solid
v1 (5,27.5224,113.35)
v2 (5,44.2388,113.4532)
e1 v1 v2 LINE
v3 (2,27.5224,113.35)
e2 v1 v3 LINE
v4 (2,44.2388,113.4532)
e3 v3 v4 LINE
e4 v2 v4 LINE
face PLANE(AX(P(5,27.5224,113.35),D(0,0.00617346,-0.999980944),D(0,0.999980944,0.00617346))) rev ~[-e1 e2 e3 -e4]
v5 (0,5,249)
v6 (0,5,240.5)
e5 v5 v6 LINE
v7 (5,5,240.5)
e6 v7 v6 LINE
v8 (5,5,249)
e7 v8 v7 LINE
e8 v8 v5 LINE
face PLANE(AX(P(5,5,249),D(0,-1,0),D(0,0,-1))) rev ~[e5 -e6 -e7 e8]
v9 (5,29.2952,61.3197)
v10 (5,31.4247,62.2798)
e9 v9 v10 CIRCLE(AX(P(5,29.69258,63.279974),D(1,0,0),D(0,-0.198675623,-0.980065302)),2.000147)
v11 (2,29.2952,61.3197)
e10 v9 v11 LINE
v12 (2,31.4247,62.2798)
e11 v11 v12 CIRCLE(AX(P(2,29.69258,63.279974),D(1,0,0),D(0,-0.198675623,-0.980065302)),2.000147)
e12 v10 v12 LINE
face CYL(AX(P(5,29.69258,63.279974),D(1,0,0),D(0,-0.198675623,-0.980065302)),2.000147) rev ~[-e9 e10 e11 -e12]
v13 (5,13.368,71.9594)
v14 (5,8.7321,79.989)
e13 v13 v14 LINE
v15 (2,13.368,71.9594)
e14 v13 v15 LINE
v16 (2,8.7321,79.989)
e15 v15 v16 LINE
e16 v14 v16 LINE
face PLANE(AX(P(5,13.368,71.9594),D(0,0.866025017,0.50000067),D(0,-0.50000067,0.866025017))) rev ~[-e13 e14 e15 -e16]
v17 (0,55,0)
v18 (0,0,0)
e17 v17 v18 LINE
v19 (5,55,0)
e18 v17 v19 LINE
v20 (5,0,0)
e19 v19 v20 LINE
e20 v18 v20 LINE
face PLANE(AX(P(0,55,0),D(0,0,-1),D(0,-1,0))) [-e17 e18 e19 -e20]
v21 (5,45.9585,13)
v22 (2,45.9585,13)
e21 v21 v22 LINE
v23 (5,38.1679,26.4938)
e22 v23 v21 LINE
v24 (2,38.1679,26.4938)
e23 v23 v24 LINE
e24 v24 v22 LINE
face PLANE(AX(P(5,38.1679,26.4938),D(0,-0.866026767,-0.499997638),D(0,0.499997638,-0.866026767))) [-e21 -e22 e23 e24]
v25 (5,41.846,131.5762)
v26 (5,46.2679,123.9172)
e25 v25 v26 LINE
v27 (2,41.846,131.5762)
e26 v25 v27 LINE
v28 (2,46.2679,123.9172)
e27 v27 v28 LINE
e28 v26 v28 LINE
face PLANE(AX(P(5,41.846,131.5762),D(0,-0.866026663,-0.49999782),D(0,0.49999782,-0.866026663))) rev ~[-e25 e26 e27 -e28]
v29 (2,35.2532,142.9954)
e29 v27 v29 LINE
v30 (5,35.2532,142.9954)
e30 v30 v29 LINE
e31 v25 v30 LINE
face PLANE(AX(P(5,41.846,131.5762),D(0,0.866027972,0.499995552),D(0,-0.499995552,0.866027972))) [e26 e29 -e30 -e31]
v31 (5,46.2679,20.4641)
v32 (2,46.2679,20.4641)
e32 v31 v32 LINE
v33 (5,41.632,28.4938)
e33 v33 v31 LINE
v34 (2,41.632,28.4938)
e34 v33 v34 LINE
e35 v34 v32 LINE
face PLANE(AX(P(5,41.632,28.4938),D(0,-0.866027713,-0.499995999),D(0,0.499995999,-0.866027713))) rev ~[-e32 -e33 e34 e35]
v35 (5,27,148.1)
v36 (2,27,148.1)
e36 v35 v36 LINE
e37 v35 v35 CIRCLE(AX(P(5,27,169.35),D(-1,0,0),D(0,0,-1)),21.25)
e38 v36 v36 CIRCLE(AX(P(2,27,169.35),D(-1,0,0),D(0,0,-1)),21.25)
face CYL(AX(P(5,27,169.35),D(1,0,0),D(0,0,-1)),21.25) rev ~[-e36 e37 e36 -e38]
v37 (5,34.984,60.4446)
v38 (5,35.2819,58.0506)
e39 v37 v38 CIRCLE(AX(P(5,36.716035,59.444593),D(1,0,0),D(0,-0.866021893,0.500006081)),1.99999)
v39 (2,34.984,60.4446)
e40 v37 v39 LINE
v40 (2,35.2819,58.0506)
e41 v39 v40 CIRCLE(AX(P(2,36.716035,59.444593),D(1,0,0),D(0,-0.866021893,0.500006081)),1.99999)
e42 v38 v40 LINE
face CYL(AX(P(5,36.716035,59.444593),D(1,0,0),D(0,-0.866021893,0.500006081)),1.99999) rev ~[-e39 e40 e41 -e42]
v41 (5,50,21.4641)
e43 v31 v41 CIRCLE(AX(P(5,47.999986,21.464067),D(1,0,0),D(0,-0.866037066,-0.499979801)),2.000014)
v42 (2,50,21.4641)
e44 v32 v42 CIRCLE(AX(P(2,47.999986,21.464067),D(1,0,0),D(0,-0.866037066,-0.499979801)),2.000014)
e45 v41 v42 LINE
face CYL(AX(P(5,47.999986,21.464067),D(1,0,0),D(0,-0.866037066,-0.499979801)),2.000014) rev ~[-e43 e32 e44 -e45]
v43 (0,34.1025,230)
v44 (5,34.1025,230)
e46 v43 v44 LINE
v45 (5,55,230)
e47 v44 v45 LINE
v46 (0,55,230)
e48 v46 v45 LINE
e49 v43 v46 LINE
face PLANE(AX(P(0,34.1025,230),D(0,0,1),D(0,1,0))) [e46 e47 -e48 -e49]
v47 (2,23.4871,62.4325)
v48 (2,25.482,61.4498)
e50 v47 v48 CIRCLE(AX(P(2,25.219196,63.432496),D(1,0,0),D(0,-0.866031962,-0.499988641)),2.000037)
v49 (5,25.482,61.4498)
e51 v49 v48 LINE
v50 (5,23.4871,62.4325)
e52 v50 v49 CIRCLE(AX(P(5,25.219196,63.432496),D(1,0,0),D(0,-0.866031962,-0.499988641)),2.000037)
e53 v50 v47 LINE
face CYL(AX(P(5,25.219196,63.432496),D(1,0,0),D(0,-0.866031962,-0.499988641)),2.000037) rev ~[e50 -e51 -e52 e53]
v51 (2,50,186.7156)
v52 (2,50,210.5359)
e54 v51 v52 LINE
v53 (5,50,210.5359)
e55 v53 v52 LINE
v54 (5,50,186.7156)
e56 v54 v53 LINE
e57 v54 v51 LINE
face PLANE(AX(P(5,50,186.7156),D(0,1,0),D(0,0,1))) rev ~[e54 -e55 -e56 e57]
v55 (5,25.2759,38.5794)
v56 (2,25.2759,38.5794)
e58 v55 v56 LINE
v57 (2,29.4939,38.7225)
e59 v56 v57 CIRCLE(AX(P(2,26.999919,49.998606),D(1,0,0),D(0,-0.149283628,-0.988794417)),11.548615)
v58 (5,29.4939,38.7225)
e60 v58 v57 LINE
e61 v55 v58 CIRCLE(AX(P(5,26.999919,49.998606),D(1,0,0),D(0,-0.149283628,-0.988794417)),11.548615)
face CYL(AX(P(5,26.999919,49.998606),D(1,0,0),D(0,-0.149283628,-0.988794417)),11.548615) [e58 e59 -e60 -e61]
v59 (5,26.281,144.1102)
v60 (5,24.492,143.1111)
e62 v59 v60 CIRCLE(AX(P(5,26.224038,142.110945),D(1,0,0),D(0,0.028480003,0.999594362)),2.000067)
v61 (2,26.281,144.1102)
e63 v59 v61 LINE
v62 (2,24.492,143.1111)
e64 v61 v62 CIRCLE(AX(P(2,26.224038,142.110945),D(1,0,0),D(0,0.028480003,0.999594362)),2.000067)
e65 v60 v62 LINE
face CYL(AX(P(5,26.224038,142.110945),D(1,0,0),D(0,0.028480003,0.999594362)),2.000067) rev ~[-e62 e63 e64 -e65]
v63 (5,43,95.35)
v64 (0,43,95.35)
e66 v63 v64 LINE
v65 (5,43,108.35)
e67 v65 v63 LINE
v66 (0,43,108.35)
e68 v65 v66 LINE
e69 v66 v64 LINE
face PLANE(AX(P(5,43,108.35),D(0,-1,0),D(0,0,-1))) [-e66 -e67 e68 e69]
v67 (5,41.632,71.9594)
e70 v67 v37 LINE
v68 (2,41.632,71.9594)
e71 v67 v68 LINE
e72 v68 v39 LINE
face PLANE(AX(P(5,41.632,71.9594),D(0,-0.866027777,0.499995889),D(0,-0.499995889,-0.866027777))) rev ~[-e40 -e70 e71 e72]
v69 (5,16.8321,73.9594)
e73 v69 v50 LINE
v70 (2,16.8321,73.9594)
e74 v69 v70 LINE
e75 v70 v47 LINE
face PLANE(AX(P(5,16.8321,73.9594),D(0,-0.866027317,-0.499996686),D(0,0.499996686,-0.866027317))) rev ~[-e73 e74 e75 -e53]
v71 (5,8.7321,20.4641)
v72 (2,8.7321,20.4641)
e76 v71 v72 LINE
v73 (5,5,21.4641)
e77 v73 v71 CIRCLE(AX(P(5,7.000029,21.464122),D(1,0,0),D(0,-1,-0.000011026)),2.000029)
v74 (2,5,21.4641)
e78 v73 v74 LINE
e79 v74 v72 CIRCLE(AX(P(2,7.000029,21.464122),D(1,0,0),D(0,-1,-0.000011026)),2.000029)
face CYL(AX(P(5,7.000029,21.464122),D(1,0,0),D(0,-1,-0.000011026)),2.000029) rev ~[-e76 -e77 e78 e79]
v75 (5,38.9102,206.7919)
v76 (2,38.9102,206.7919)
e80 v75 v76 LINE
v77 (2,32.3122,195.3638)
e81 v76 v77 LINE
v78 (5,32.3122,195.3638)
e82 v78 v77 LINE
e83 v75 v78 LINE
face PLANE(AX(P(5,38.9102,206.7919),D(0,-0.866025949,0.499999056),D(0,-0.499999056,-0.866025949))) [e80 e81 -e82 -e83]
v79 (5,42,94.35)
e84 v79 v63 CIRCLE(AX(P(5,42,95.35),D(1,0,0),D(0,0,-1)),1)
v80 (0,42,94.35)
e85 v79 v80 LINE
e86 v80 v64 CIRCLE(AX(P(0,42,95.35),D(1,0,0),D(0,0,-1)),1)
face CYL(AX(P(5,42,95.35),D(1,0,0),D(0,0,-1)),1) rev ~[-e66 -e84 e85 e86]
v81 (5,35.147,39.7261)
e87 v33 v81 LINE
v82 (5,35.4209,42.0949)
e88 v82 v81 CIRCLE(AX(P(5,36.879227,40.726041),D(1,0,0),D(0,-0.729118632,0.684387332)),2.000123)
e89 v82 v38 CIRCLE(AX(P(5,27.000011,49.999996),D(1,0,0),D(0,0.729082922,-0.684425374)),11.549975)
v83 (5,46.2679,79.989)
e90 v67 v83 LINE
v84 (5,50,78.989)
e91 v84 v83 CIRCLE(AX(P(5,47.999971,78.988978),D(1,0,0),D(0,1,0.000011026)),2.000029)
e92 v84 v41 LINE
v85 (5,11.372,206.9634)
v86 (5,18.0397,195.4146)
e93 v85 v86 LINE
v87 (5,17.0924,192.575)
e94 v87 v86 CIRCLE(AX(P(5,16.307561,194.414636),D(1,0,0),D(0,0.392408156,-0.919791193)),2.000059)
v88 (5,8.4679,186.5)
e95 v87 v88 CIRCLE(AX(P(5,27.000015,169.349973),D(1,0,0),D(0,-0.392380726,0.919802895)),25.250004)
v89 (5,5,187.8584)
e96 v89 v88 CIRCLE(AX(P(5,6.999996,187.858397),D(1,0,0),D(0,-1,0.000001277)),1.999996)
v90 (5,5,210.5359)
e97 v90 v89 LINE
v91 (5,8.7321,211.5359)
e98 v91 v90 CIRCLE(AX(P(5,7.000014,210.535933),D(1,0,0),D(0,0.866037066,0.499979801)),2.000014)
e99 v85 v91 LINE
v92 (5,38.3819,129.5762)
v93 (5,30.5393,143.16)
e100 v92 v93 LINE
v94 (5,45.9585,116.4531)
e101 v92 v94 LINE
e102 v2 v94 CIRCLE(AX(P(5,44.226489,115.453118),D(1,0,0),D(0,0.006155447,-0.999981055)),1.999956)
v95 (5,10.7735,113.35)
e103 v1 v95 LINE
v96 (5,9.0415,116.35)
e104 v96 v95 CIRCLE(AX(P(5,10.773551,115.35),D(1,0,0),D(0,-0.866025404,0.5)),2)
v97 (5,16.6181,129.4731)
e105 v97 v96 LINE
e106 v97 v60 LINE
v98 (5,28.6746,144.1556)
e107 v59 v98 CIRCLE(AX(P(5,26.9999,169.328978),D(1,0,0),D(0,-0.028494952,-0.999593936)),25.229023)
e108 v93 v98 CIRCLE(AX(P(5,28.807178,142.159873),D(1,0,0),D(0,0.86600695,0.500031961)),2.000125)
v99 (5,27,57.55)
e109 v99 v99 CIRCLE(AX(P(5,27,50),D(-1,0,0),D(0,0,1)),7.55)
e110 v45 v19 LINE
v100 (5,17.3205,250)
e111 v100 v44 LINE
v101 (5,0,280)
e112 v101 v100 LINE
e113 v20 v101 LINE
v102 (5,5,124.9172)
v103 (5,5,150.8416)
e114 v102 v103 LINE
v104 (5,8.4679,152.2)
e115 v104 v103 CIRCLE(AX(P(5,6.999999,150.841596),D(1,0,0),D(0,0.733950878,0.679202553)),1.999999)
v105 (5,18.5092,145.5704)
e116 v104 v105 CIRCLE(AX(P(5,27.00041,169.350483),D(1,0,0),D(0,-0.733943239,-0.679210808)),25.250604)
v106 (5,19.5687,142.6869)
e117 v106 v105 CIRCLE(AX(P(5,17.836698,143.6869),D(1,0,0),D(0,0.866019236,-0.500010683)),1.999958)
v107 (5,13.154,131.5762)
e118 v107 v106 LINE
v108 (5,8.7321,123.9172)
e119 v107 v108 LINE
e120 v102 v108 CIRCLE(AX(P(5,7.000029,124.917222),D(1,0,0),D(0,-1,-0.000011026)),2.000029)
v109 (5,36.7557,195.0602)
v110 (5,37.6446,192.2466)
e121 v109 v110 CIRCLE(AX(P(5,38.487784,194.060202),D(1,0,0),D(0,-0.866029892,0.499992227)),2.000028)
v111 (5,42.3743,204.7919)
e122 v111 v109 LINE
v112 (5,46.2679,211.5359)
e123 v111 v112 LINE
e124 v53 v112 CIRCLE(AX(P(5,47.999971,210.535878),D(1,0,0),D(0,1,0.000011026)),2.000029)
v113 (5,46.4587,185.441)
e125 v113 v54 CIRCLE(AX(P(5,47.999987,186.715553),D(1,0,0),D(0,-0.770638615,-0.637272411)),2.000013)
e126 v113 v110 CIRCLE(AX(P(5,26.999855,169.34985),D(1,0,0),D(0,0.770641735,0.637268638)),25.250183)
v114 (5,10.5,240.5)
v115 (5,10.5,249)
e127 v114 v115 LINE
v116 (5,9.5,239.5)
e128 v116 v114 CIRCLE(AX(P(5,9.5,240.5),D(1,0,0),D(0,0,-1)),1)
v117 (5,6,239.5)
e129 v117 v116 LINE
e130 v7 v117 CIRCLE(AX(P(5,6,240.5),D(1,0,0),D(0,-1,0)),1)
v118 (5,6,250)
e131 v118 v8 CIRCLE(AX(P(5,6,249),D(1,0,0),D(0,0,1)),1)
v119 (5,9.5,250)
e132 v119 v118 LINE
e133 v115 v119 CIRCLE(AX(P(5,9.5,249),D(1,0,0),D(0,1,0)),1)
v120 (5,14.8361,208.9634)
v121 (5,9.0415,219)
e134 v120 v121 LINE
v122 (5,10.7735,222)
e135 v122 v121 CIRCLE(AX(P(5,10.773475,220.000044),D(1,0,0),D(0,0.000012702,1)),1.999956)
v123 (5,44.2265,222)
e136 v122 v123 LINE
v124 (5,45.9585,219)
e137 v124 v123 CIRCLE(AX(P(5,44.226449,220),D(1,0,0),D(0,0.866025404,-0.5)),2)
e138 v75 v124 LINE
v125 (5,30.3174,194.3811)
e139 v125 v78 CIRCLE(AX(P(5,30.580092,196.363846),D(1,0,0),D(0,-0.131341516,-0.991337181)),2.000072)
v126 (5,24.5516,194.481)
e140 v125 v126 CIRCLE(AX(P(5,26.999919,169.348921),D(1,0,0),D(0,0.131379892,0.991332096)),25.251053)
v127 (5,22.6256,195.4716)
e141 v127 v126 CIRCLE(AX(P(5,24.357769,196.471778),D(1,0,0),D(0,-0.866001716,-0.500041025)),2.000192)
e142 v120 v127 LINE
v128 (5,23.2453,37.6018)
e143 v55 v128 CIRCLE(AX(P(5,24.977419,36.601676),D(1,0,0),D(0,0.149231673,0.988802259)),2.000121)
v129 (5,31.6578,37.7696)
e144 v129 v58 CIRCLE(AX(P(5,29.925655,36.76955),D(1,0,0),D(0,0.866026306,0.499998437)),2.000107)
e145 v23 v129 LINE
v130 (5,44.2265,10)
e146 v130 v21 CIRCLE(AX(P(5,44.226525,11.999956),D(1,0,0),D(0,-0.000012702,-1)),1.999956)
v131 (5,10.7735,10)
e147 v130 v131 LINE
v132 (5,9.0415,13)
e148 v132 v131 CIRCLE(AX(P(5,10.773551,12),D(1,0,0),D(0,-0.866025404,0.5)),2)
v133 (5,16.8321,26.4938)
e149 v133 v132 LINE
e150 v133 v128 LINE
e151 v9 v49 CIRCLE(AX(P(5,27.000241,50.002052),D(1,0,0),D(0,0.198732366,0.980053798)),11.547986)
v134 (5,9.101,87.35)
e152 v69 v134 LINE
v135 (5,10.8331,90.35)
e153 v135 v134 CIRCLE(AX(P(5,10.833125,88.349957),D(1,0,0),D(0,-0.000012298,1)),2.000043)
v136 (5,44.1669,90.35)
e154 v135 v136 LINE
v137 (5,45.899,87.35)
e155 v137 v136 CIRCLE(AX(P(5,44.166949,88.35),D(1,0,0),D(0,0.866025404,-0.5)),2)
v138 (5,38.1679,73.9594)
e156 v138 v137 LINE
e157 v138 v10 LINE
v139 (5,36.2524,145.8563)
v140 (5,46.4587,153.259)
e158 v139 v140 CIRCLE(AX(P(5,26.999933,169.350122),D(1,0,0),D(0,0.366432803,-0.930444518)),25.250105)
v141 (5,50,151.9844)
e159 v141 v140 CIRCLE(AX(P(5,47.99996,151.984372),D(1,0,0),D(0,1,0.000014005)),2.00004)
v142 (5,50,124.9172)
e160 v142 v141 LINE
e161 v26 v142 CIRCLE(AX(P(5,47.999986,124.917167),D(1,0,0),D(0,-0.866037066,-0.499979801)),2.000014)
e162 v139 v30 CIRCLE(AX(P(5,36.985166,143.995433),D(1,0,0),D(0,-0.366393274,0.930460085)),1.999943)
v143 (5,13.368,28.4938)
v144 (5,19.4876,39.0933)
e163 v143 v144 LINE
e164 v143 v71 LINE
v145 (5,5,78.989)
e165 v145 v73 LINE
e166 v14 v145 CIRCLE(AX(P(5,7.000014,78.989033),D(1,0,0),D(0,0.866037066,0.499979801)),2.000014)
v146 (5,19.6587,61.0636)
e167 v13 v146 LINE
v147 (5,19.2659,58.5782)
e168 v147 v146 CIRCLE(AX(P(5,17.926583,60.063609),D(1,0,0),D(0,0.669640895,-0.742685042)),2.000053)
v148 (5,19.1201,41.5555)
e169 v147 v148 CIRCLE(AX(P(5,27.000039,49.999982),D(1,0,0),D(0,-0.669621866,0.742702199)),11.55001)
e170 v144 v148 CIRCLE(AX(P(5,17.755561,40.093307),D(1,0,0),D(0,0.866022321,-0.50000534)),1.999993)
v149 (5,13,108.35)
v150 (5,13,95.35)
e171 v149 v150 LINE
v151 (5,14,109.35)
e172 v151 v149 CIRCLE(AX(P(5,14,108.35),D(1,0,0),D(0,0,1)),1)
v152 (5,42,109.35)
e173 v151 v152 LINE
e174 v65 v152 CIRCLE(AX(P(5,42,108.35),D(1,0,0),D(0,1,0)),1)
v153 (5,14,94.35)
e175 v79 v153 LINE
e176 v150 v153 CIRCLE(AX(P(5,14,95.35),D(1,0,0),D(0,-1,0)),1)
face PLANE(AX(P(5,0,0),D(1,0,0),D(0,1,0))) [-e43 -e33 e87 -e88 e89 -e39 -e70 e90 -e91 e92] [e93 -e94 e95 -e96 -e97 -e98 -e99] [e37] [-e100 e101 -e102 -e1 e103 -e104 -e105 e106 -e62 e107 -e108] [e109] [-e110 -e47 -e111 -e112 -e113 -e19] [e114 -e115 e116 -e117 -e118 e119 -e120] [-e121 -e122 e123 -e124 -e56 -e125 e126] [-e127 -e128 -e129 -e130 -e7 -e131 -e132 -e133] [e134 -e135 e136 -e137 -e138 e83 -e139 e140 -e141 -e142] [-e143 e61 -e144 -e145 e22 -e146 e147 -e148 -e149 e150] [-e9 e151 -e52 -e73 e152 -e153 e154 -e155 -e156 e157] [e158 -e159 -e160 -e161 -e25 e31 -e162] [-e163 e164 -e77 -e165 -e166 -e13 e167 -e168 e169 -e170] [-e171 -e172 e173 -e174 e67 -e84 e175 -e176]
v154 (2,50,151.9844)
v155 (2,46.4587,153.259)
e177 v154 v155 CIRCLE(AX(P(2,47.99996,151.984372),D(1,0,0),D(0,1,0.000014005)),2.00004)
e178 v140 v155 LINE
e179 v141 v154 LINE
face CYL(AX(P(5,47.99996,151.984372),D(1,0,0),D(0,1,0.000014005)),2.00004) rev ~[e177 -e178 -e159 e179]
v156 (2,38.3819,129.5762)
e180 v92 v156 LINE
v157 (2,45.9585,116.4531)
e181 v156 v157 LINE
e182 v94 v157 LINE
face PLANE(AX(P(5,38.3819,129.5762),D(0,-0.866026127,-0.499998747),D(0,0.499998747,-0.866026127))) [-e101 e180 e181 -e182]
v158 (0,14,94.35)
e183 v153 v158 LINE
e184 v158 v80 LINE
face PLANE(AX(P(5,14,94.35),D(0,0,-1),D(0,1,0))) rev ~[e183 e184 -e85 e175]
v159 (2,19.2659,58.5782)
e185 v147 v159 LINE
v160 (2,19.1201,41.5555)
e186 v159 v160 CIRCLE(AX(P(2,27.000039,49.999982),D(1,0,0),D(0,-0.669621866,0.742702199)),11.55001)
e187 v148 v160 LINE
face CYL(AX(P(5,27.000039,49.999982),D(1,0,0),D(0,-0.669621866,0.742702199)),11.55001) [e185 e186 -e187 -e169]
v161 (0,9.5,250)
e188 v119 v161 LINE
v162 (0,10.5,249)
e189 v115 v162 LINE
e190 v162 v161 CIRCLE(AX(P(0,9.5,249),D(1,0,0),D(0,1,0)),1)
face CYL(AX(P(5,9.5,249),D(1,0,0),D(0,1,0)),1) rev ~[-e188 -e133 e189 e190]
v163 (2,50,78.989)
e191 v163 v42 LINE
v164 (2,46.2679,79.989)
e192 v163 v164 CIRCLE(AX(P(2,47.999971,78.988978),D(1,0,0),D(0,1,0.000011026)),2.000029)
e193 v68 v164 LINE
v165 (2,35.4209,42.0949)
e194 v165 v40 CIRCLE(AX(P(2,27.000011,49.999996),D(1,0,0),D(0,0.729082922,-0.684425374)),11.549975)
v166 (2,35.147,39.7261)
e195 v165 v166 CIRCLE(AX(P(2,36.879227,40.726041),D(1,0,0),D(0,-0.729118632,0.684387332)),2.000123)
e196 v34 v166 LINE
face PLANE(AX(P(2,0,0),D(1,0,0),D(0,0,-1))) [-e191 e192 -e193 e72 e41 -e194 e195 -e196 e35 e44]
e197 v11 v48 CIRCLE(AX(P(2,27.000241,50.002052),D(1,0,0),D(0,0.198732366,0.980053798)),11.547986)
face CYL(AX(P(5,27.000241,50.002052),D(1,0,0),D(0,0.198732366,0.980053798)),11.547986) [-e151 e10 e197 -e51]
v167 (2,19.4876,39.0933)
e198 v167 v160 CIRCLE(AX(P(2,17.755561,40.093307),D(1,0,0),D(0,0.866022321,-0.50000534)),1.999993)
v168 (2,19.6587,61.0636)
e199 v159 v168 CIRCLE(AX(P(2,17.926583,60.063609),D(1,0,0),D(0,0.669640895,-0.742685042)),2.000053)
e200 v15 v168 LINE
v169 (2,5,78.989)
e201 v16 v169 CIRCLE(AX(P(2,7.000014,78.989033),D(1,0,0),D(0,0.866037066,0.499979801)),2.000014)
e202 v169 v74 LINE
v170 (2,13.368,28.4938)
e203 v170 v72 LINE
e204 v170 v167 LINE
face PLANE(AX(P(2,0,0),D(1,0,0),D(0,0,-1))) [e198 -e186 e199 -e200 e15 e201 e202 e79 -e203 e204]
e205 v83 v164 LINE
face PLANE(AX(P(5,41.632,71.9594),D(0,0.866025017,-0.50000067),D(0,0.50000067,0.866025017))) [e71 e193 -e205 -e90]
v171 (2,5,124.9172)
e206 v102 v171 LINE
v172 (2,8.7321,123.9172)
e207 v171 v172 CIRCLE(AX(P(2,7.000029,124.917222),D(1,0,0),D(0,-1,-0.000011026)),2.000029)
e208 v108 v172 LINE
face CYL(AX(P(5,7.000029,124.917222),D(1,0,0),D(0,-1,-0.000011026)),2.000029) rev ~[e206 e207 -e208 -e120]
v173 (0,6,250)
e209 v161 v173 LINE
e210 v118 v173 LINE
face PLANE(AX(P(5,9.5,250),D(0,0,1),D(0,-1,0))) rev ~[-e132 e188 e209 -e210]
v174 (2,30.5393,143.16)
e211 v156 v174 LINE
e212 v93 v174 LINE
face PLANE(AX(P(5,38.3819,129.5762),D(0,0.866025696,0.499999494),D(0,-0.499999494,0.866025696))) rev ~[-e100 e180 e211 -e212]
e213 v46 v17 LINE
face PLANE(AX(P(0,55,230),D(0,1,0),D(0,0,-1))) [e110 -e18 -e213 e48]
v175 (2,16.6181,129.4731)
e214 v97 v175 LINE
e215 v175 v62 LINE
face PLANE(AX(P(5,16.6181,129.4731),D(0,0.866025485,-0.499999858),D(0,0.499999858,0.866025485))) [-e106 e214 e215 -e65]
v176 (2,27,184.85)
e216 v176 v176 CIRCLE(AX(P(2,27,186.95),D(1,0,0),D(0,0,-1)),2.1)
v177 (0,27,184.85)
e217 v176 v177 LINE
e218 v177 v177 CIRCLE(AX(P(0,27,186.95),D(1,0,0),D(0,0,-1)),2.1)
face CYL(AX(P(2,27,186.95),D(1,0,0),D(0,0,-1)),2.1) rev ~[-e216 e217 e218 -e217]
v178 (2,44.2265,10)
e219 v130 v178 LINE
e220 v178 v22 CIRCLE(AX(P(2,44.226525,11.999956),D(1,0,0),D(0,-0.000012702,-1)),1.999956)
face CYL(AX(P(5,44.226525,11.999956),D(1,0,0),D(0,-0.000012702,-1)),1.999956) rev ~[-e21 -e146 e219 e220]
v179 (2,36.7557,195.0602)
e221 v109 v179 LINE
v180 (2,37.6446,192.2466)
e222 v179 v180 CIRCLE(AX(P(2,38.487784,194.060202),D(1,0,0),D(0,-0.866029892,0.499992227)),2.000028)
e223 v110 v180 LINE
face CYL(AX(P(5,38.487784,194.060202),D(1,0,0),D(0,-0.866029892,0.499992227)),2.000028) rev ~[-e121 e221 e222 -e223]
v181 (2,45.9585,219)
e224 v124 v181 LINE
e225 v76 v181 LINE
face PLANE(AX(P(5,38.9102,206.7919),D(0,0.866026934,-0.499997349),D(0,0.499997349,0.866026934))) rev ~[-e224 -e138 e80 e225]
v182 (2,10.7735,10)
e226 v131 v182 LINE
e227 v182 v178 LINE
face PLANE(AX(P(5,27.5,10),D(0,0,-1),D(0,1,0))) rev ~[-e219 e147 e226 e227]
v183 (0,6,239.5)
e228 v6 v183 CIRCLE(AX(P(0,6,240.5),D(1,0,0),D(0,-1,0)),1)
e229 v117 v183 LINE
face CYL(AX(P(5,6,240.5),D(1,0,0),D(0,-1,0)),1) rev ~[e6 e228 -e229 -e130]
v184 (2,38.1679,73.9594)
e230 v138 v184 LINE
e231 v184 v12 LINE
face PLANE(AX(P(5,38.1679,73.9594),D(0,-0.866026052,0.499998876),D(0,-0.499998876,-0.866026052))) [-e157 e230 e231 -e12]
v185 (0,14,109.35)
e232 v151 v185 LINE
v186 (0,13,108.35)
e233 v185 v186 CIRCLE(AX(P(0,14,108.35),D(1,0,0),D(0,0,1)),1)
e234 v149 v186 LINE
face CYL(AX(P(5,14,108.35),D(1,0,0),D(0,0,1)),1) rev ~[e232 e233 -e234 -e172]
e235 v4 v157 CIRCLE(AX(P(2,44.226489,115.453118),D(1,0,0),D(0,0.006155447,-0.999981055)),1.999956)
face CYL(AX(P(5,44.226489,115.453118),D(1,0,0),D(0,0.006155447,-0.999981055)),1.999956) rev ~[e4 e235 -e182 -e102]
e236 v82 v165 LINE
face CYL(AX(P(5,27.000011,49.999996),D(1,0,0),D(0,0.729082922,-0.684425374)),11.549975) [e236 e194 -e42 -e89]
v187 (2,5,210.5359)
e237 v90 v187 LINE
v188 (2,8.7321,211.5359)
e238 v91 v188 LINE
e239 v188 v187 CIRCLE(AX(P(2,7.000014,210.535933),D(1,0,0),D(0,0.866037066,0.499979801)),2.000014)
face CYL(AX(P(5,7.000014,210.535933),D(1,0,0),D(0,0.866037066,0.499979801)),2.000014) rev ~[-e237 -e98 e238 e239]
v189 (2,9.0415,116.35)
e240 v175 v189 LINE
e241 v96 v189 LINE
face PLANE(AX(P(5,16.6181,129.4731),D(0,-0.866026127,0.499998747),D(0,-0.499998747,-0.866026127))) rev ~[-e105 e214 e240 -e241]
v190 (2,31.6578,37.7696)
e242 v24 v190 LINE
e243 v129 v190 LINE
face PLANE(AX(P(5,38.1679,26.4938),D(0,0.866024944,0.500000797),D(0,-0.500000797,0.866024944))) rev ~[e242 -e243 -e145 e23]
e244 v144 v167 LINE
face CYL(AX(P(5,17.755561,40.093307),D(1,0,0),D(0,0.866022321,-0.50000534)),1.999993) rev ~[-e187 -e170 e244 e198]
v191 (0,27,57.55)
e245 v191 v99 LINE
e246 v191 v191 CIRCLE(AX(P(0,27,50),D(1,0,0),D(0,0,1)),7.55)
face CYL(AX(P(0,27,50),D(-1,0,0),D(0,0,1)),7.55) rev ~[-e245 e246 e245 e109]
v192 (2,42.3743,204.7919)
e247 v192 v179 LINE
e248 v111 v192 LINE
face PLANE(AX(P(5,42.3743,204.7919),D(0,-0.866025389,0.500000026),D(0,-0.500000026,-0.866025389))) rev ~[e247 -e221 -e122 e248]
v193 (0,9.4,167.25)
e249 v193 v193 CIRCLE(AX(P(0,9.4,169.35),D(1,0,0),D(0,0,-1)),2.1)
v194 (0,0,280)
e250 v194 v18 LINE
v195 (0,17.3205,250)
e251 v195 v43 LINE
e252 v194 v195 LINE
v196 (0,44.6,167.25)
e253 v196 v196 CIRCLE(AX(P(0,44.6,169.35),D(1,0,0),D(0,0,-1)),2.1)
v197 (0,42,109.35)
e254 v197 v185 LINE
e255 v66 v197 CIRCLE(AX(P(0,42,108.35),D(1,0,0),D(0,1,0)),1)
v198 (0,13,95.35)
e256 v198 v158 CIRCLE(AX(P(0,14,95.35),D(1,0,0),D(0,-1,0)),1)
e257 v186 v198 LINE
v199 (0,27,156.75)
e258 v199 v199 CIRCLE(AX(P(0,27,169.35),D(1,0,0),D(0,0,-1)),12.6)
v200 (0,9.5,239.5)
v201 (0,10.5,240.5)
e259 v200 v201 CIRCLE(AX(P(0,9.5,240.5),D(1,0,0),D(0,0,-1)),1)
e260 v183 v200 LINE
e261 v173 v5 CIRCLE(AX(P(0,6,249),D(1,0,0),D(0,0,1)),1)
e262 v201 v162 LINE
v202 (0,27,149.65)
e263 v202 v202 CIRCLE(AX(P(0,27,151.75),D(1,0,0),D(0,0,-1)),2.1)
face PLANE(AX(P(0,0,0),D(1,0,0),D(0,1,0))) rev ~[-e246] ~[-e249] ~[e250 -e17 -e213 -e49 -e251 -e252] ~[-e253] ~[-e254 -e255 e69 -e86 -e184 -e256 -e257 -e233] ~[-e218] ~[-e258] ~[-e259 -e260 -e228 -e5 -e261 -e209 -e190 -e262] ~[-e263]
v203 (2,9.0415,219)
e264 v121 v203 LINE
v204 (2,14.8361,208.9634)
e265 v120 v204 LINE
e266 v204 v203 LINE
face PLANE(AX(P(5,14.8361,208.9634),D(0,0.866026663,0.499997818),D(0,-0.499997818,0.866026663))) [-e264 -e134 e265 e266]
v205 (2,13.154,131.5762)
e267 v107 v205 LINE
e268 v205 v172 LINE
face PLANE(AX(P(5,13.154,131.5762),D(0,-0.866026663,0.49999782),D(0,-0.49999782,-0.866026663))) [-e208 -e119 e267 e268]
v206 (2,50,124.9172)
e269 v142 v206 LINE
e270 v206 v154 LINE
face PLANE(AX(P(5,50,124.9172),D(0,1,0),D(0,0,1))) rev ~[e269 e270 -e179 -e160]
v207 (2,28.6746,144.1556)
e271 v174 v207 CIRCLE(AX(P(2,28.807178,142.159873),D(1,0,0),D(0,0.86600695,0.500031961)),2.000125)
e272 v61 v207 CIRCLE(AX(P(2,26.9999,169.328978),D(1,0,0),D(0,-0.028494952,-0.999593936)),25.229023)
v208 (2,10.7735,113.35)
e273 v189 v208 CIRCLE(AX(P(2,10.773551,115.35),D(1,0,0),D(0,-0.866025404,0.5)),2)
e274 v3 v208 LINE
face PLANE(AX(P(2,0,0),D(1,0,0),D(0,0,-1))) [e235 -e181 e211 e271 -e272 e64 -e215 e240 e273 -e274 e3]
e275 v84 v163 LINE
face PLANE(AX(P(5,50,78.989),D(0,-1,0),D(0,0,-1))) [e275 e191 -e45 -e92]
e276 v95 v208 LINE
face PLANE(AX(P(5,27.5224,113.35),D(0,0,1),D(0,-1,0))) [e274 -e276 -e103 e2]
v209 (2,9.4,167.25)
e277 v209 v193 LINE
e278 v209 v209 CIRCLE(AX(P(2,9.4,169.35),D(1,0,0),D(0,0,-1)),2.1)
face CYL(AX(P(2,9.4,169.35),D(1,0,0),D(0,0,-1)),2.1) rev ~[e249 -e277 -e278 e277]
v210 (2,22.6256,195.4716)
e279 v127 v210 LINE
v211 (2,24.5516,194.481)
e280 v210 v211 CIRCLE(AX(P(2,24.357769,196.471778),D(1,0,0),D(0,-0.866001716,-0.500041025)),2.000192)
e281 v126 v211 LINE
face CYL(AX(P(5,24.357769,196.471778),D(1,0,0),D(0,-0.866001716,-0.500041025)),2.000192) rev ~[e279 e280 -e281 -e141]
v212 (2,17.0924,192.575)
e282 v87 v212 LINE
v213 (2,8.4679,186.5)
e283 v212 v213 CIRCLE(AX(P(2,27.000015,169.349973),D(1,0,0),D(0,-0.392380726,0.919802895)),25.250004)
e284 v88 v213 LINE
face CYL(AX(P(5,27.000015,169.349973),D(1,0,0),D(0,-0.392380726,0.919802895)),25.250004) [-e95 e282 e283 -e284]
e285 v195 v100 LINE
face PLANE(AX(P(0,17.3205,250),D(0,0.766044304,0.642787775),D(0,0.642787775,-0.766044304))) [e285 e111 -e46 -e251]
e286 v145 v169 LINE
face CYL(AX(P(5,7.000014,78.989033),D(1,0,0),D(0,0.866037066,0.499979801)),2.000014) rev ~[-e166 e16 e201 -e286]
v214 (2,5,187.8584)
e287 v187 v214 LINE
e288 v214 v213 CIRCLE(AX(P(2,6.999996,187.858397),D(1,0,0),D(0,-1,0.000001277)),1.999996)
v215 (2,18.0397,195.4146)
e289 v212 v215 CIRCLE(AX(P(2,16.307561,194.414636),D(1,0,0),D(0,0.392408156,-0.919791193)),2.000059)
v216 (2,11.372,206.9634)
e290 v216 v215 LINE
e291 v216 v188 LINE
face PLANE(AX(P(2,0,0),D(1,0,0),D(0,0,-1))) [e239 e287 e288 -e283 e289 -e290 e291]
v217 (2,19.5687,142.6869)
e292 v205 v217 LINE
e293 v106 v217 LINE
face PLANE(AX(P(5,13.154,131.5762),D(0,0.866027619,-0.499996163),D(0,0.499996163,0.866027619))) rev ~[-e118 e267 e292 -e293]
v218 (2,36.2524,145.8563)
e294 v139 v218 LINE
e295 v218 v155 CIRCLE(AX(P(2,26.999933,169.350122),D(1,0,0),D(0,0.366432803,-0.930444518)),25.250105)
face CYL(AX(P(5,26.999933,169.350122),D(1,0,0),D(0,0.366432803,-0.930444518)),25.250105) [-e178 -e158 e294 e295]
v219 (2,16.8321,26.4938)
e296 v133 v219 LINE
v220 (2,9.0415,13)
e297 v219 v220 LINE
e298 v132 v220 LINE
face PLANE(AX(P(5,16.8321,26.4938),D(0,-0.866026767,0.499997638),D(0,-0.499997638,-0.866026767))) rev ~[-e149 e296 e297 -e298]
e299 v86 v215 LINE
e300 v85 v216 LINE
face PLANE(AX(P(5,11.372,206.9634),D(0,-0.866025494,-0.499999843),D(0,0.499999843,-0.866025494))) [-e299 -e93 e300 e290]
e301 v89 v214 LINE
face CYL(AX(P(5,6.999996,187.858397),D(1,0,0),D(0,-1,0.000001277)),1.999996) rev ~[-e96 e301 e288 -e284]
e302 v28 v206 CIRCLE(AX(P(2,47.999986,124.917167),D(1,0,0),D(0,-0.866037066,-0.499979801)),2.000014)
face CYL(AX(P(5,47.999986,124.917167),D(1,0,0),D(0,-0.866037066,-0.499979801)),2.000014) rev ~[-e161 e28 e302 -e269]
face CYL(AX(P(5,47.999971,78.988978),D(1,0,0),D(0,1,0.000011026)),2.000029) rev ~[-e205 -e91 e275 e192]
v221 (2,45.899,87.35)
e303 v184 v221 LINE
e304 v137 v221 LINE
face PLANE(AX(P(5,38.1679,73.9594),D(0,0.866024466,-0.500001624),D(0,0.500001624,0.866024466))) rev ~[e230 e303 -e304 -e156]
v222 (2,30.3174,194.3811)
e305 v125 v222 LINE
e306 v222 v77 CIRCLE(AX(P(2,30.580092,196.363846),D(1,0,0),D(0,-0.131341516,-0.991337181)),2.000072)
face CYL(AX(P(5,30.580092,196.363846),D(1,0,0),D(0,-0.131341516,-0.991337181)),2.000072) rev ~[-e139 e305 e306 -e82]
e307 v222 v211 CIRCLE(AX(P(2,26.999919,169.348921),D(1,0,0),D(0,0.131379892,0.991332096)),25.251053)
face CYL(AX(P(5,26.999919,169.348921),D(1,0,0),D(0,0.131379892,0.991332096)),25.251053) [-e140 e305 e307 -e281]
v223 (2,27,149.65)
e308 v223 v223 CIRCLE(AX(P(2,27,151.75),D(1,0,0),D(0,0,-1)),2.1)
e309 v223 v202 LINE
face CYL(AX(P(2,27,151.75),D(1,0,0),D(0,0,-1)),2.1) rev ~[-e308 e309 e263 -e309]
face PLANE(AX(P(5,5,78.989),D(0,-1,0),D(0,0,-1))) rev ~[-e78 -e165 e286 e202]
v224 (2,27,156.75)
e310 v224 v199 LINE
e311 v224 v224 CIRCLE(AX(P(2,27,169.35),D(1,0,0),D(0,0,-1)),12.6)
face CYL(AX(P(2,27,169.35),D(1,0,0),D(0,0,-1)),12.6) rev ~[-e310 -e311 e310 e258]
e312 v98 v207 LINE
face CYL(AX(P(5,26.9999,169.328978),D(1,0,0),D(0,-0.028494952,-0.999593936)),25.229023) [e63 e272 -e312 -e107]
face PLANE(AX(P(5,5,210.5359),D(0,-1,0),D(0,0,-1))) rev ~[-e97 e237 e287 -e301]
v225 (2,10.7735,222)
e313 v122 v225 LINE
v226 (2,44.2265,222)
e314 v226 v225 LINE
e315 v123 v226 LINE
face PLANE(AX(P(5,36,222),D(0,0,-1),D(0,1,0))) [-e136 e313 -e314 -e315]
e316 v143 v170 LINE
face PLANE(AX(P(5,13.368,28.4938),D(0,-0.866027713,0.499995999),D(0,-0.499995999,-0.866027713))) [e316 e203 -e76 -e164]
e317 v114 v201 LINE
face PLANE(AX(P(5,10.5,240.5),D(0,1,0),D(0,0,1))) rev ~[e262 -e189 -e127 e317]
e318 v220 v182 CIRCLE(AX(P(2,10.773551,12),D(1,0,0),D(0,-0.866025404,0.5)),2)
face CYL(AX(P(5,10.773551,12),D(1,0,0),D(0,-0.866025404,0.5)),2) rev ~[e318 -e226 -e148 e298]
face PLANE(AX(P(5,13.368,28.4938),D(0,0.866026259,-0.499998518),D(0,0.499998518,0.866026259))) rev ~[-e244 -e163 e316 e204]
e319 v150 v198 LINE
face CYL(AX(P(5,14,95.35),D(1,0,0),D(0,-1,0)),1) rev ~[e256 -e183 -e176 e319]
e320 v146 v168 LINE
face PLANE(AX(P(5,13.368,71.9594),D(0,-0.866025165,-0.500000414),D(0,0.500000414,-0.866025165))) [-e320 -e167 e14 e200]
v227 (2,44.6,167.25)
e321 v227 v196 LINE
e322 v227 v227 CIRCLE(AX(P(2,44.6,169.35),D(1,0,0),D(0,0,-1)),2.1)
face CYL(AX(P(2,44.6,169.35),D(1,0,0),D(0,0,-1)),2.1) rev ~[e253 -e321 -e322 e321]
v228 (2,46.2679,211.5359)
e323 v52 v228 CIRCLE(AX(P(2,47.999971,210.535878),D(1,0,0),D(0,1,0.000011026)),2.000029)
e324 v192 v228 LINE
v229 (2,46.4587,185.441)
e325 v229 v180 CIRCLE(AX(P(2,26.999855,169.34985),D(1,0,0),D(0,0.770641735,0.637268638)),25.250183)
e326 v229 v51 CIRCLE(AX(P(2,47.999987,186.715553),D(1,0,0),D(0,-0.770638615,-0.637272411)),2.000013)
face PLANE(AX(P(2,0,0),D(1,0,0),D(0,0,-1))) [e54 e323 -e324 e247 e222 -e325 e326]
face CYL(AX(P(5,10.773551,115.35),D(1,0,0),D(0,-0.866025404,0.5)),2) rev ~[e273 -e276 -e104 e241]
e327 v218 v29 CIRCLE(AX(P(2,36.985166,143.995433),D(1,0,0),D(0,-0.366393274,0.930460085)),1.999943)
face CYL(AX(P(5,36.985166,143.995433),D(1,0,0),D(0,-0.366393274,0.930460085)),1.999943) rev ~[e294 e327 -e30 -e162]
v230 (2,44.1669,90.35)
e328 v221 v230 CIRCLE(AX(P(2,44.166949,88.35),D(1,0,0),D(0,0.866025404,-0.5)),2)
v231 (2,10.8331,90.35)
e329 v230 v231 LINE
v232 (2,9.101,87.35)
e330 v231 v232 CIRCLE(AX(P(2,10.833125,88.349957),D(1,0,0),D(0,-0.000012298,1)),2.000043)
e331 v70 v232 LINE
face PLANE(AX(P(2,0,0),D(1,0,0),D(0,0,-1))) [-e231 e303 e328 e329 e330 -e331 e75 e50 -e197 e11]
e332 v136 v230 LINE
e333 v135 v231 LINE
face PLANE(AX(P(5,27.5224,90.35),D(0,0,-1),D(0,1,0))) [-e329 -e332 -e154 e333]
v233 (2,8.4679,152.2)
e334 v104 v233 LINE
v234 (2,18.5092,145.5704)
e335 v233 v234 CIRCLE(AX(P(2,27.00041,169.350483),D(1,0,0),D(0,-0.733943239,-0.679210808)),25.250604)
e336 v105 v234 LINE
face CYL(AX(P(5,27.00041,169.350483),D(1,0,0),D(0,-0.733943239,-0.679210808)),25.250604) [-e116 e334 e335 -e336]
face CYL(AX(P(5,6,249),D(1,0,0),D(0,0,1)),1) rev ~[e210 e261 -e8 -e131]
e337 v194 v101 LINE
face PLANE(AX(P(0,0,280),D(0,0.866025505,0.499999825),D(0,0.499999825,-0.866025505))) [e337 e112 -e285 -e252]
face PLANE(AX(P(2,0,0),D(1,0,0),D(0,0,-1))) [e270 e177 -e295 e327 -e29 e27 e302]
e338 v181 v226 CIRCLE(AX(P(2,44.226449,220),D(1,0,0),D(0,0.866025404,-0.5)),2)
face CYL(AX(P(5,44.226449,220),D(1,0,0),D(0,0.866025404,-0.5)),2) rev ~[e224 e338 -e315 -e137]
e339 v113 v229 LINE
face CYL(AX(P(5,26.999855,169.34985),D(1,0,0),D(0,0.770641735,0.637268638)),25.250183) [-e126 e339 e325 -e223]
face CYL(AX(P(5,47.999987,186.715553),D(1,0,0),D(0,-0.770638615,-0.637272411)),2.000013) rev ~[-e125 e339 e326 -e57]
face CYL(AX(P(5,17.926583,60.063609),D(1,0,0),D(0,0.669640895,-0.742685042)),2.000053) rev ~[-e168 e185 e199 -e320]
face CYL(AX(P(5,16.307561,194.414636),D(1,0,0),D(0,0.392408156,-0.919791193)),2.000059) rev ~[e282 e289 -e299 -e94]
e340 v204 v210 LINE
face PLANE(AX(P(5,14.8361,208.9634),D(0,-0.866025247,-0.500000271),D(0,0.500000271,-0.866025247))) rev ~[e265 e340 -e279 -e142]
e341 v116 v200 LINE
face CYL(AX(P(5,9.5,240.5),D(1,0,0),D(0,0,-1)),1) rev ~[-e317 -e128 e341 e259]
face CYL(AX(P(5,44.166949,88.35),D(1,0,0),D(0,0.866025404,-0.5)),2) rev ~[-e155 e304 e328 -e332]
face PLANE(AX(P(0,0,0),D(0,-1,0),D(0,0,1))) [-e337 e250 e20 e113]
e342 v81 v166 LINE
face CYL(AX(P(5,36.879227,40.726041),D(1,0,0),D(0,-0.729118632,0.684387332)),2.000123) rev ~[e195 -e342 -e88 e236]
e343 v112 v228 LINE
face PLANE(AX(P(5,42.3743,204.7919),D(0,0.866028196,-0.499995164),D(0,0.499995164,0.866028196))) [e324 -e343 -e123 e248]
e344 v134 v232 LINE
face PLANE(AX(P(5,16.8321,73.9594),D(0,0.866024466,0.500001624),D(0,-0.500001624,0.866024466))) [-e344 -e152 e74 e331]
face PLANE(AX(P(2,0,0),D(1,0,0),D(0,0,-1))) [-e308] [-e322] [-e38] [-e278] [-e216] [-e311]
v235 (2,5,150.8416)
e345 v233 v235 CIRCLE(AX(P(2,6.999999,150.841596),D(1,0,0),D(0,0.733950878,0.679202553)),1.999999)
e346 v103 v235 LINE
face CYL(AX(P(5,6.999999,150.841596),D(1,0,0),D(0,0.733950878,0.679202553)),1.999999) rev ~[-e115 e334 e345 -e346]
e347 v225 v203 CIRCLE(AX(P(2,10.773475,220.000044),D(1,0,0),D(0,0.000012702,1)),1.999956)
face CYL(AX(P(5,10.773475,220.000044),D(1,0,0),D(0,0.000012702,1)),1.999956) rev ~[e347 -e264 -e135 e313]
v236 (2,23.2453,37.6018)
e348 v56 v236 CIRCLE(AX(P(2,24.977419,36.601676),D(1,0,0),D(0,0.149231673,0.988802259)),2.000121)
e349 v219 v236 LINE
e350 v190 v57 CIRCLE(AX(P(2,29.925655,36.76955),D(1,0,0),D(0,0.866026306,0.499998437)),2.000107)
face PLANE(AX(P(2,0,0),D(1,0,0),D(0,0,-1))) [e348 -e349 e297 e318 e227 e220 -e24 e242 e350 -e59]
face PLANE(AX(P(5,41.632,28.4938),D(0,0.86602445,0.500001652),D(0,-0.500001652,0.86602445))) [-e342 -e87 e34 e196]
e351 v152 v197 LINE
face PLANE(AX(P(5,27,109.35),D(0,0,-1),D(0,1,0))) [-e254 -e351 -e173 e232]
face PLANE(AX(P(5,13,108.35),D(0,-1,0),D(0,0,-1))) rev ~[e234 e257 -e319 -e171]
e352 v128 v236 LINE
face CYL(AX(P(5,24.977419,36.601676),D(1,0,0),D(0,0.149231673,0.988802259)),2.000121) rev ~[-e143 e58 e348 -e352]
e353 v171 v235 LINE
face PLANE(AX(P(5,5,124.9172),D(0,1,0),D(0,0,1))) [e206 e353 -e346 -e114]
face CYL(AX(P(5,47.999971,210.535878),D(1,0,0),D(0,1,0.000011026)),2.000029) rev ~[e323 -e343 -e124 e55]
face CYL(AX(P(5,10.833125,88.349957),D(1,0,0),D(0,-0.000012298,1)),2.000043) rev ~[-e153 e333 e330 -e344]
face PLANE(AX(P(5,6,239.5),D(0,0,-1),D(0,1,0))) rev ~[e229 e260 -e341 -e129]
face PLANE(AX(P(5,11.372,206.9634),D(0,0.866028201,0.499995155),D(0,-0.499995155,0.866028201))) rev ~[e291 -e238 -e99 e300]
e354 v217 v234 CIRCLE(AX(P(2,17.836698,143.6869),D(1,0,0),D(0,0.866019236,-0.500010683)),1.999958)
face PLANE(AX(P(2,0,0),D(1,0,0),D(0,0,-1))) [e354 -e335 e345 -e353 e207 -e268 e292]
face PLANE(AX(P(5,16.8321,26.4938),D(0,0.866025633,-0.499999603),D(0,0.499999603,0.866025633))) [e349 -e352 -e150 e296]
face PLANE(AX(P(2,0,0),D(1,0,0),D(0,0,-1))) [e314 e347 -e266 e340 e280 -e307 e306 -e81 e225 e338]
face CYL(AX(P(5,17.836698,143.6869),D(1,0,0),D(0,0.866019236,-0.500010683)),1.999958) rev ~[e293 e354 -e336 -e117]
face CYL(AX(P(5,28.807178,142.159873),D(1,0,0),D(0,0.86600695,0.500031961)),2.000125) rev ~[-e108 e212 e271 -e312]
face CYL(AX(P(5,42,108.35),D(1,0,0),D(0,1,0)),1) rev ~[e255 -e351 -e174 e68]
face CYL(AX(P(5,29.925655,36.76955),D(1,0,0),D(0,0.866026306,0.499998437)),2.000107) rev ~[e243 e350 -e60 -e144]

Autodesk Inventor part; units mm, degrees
ref_plane "YZ Plane" through (0, 0, 0) normal (1, 0, 0) x (0, 1, 0)
ref_plane "XZ Plane" through (0, 0, 0) normal (0, 1, 0) x (-1, 0, 0)
ref_plane "XY Plane" through (0, 0, 0) normal (0, 0, 1) x (1, 0, 0)
sketch "스케치1" plane through (0, 0, 0) normal (1, 0, 0) x (0, 1, 0)
  line L0 (0, 0) -> (0, 280)
  line L1 (0, 280) -> (55, 280)
  line L2 (55, 280) -> (55, 0)
  line L3 (55, 0) -> (0, 0)
  line L4 (0, 280) -> (0, 250)
  line L5 (0, 250) -> (0, 230)
  line L6 (0, 230) -> (0, 220)
  line L7 (0, 230) -> (55, 230)
  line L8 (0, 250) -> (55, 250)
  line L9 (0, 280) -> (17.3205, 250)
  line L10 (0, 280) -> (34.641, 280) construction
  line L11 (17.3205, 250) -> (34.1025, 230)
  line L12 (17.3205, 250) -> (43.4287, 250) construction
  line L13 (34.1025, 230) -> (47.1107, 230) construction
  point P0 (55, 220)
  dimension "d0" = 280
  dimension "d1" = 55
  dimension "d2" = 30
  dimension "d3" = 20
  dimension "d5" = 60
  dimension "d6" = 50
extrude "돌출1" add sketch "스케치1" along normal blind 5 contours L0 L7 L2 L3 | L0 L8 L11 L7 | L0 L9 L8
sketch "스케치4" plane through (5, 0, 0) normal (1, 0, 0) x (0, 0, -1)
  line L0 (-250, 17.3205) -> (-280, 0) projected
  line L1 (-280, 0) -> (-170, 0)
  line L2 (-280, 0) -> (0, 0) projected
  circle A0 centre (-169.35, 27) radius 21.25
  line L3 (0, 0) -> (0, 55) projected
  line L4 (0, 0) -> (-169.35, 0)
  line L5 (-169.35, 0) -> (-169.35, 27)
  line L6 (-169.35, 27) -> (-169.35, 0)
  dimension "d14" = 110
  dimension "d16" = 42.5
  dimension "d43" = 169.35
  dimension "d44" = 0
extrude "돌출2" cut sketch "스케치4" against normal blind 3
sketch "스케치5" plane through (2, 27, 169.35) normal (1, 0, 0) x (0, 0, -1)
  circle A0 centre (0, 0) radius 12.6
  point P0 (169.35, -27)
  dimension "d19" = 25.2
extrude "돌출3" cut sketch "스케치5" against normal blind 3
sketch "스케치6" plane through (2, 27, 169.35) normal (1, 0, 0) x (0, 0, -1)
  circle A0 centre (0, 0) radius 21.25 projected
  circle A1 centre (0, 17.6) radius 2.1
  circle A2 centre (17.6, 0) radius 2.1
  circle A3 centre (0, -17.6) radius 2.1
  circle A4 centre (-17.6, 0) radius 2.1
  point P0 (169.35, -27)
  dimension "d31" = 4.2
  dimension "d32" = 4.2
  dimension "d33" = 4.2
  dimension "d34" = 4.2
extrude "돌출4" cut sketch "스케치6" against normal blind 3 contours A1 | A2 | A3 | A4
sketch "스케치7" plane through (0, 0, 0) normal (-1, 0, 0) x (0, 0, 1)
  line L0 (280, 0) -> (0, 0) projected
  line L1 (0, 0) -> (50, 0)
  line L2 (50, 0) -> (50, 27)
  line L3 (50, 27) -> (169.35, 27)
  circle A0 centre (50, 27) radius 7.55
  dimension "d37" = 50
  dimension "d38" = 27
  dimension "d39" = 119.35
  dimension "d40" = 15.1
extrude "돌출5" cut sketch "스케치7" against normal blind 5
sketch "스케치8" plane through (5, 0, 0) normal (1, 0, 0) x (0, 0, -1)
  circle A0 centre (-50, 27) radius 7.55 projected
  circle A1 centre (-169.35, 27) radius 21.25 projected
  line L0 (-230, 34.1025) -> (-250, 17.3205) projected
  line L1 (-250, 17.3205) -> (-280, 0) projected
  line L2 (-280, 0) -> (0, 0) projected
  line L3 (0, 0) -> (0, 55) projected
  line L4 (0, 55) -> (-230, 55) projected
  line L5 (-230, 55) -> (-230, 34.1025) projected
  line L6 (0, 55) -> (-230, 55) projected
  line L7 (0, 0) -> (0, 55) projected
  line L8 (-280, 0) -> (0, 0) projected
  line L9 (-250, 17.3205) -> (-280, 0) projected
  line L10 (-169.35, 27) -> (-109.35, 27)
  line L11 (-109.35, 27) -> (-109.35, 42)
  line L12 (-109.35, 27) -> (-109.35, 14)
  line L13 (-94.35, 27) -> (-50, 27)
  line L14 (-94.35, 14) -> (-94.35, 42)
  line L15 (-108.35, 43) -> (-95.35, 43)
  line L16 (-108.35, 13) -> (-95.35, 13)
  arc A2 (-108.35, 43) -> (-109.35, 42) centre (-108.35, 42) ccw
  arc A3 (-94.35, 42) -> (-95.35, 43) centre (-95.35, 42) ccw
  arc A4 (-95.35, 13) -> (-94.35, 14) centre (-95.35, 14) ccw
  arc A5 (-109.35, 14) -> (-108.35, 13) centre (-108.35, 14) ccw
  point P0 (-109.35, 43)
  point P1 (-109.35, 13)
  point P2 (-94.35, 13)
  point P3 (-94.35, 43)
  dimension "d118" = 60
  dimension "d119" = 15
  dimension "d120" = 30
  dimension "d121" = 12
  dimension "d124" = 1
sketch "스케치9" plane through (5, 0, 0) normal (1, 0, 0) x (0, 0, -1)
  circle A0 centre (-50, 27) radius 7.55 projected
  circle A1 centre (-169.35, 27) radius 21.25 projected
  line L0 (-230, 34.1025) -> (-250, 17.3205) projected
  line L1 (-250, 17.3205) -> (-280, 0) projected
  line L2 (-280, 0) -> (0, 0) projected
  line L3 (0, 0) -> (0, 55) projected
  line L4 (0, 55) -> (-230, 55) projected
  line L5 (-230, 55) -> (-230, 34.1025) projected
  line L6 (0, 55) -> (-230, 55) projected
  line L7 (-280, 0) -> (0, 0) projected
  line L8 (-250, 17.3205) -> (-280, 0) projected
  line L9 (-94.35, 12.641) -> (-94.35, 42.641) projected
  line L10 (0, 0) -> (0, 55) projected
  line L11 (-280, 0) -> (0, 0) projected
  line L12 (-113.35, 27.5224) -> (-113.4532, 44.2388)
  line L13 (-113.35, 27.5224) -> (-113.35, 10.7735)
  line L14 (-129.5762, 38.3819) -> (-116.4531, 45.9585)
  line L15 (-129.5762, 38.3819) -> (-143.16, 30.5393)
  line L16 (-131.5762, 13.154) -> (-142.6869, 19.5687)
  line L17 (-131.5762, 13.154) -> (-123.9172, 8.7321)
  line L18 (-129.4731, 16.6181) -> (-143.1111, 24.492)
  line L19 (-129.4731, 16.6181) -> (-116.35, 9.0415)
  line L20 (-131.5762, 41.846) -> (-142.9954, 35.2532)
  line L21 (-131.5762, 41.846) -> (-123.9172, 46.2679)
  line L22 (-90.35, 27.5224) -> (-90.35, 44.1669)
  line L23 (-90.35, 27.5224) -> (-90.35, 10.8331)
  line L24 (-78.989, 50) -> (-55.4656, 50) construction
  line L25 (-78.989, 5) -> (-55.9099, 5) construction
  line L26 (-10, 5) -> (24.1299, 5) construction
  line L27 (-10, 50) -> (24.5913, 50) construction
  line L28 (-230, 36) -> (-222, 36)
  line L29 (-222, 36) -> (-222, 10.7735)
  line L30 (-222, 36) -> (-222, 44.2265)
  line L31 (-222, 50) -> (-189.3275, 50) construction
  line L32 (-222, 5) -> (-187.8584, 5) construction
  line L33 (-204.7919, 42.3743) -> (-195.0602, 36.7557)
  line L34 (-204.7919, 42.3743) -> (-211.5359, 46.2679)
  line L35 (-206.7919, 38.9102) -> (-195.3638, 32.3122)
  line L36 (-206.7919, 38.9102) -> (-219, 45.9585)
  line L37 (-208.9634, 14.8361) -> (-219, 9.0415)
  line L38 (-208.9634, 14.8361) -> (-195.4716, 22.6256)
  line L39 (-206.9634, 11.372) -> (-195.4146, 18.0397)
  line L40 (-206.9634, 11.372) -> (-211.5359, 8.7321)
  arc A2 (-219, 45.9585) -> (-222, 44.2265) centre (-220, 44.2265) ccw
  arc A3 (-222, 10.7735) -> (-219, 9.0415) centre (-220, 10.7735) ccw
  arc A4 (-211.5359, 8.7321) -> (-210.5359, 5) centre (-210.5359, 7) ccw
  arc A5 (-210.5359, 50) -> (-211.5359, 46.2679) centre (-210.5359, 48) ccw
  arc A6 (-123.9172, 46.2679) -> (-124.9172, 50) centre (-124.9172, 48) ccw
  arc A7 (-113.4532, 44.2388) -> (-116.4531, 45.9585) centre (-115.4531, 44.2265) ccw
  arc A8 (-116.35, 9.0415) -> (-113.35, 10.7735) centre (-115.35, 10.7735) ccw
  arc A9 (-124.9172, 5) -> (-123.9172, 8.7321) centre (-124.9172, 7) ccw
  arc A10 (-192.575, 17.0924) -> (-186.5, 8.4679) centre (-169.35, 27) ccw
  arc A11 (-194.3811, 30.3174) -> (-194.481, 24.5516) centre (-169.35, 27) ccw
  arc A12 (-185.441, 46.4587) -> (-192.2466, 37.6446) centre (-169.35, 27) ccw
  arc A13 (-145.8563, 36.2524) -> (-153.259, 46.4587) centre (-169.35, 27) ccw
  arc A14 (-144.1102, 26.281) -> (-144.1556, 28.6746) centre (-169.35, 27) ccw
  line L41 (-124.9172, 50) -> (-151.9844, 50)
  line L42 (-186.7156, 50) -> (-210.5359, 50)
  arc A15 (-152.2, 8.4679) -> (-145.5704, 18.5092) centre (-169.35, 27) ccw
  line L43 (-124.9172, 5) -> (-150.8416, 5)
  arc A16 (-194.3811, 30.3174) -> (-195.3638, 32.3122) centre (-196.3638, 30.5801) ccw
  arc A17 (-195.4716, 22.6256) -> (-194.481, 24.5516) centre (-196.4716, 24.3576) ccw
  arc A18 (-192.575, 17.0924) -> (-195.4146, 18.0397) centre (-194.4146, 16.3076) ccw
  arc A19 (-187.8584, 5) -> (-186.5, 8.4679) centre (-187.8584, 7) ccw
  arc A20 (-195.0602, 36.7557) -> (-192.2466, 37.6446) centre (-194.0602, 38.4878) ccw
  arc A21 (-185.441, 46.4587) -> (-186.7156, 50) centre (-186.7156, 48) ccw
  arc A22 (-151.9844, 50) -> (-153.259, 46.4587) centre (-151.9844, 48) ccw
  arc A23 (-145.8563, 36.2524) -> (-142.9954, 35.2532) centre (-143.9954, 36.9852) ccw
  arc A24 (-143.16, 30.5393) -> (-144.1556, 28.6746) centre (-142.16, 28.8073) ccw
  arc A25 (-144.1102, 26.281) -> (-143.1111, 24.492) centre (-142.1111, 26.224) ccw
  arc A26 (-142.6869, 19.5687) -> (-145.5704, 18.5092) centre (-143.6869, 17.8367) ccw
  arc A27 (-152.2, 8.4679) -> (-150.8416, 5) centre (-150.8416, 7) ccw
  line L44 (-210.5359, 5) -> (-187.8584, 5)
  line L45 (-73.9594, 38.1679) -> (-62.2798, 31.4247)
  line L46 (-73.9594, 38.1679) -> (-87.35, 45.899)
  line L47 (-71.9594, 41.632) -> (-60.4446, 34.984)
  line L48 (-71.9594, 41.632) -> (-79.989, 46.2679)
  line L49 (-71.9594, 13.368) -> (-61.0636, 19.6587)
  line L50 (-71.9594, 13.368) -> (-79.989, 8.7321)
  line L51 (-73.9594, 16.8321) -> (-62.4325, 23.4871)
  line L52 (-73.9594, 16.8321) -> (-87.35, 9.101)
  line L53 (-28.4938, 13.368) -> (-39.0933, 19.4876)
  line L54 (-28.4938, 13.368) -> (-20.4641, 8.7321)
  line L55 (-26.4938, 16.8321) -> (-37.6018, 23.2453)
  line L56 (-26.4938, 16.8321) -> (-13, 9.0415)
  line L57 (-28.4938, 41.632) -> (-39.7261, 35.147)
  line L58 (-28.4938, 41.632) -> (-20.4641, 46.2679)
  line L59 (-26.4938, 38.1679) -> (-37.7696, 31.6578)
  line L60 (-26.4938, 38.1679) -> (-13, 45.9585)
  line L61 (-78.989, 5) -> (-21.4641, 5)
  line L62 (-10, 27.5) -> (-10, 10.7735)
  line L63 (-10, 27.5) -> (-10, 44.2265)
  line L64 (-78.989, 50) -> (-21.4641, 50)
  arc A28 (-61.3197, 29.2952) -> (-61.4498, 25.482) centre (-50, 27) ccw
  arc A29 (-58.5782, 19.2659) -> (-41.5555, 19.1201) centre (-50, 27) ccw
  arc A30 (-38.5794, 25.2759) -> (-38.7225, 29.4939) centre (-50, 27) ccw
  arc A31 (-42.0949, 35.4209) -> (-58.0506, 35.2819) centre (-50, 27) ccw
  arc A32 (-87.35, 45.899) -> (-90.35, 44.1669) centre (-88.35, 44.1669) ccw
  arc A33 (-61.3197, 29.2952) -> (-62.2798, 31.4247) centre (-63.2798, 29.6926) ccw
  arc A34 (-62.4325, 23.4871) -> (-61.4498, 25.482) centre (-63.4325, 25.2192) ccw
  arc A35 (-90.35, 10.8331) -> (-87.35, 9.101) centre (-88.35, 10.8331) ccw
  arc A36 (-58.5782, 19.2659) -> (-61.0636, 19.6587) centre (-60.0636, 17.9266) ccw
  arc A37 (-39.0933, 19.4876) -> (-41.5555, 19.1201) centre (-40.0933, 17.7556) ccw
  arc A38 (-21.4641, 5) -> (-20.4641, 8.7321) centre (-21.4641, 7) ccw
  arc A39 (-79.989, 8.7321) -> (-78.989, 5) centre (-78.989, 7) ccw
  arc A40 (-78.989, 50) -> (-79.989, 46.2679) centre (-78.989, 48) ccw
  arc A41 (-60.4446, 34.984) -> (-58.0506, 35.2819) centre (-59.4446, 36.716) ccw
  arc A42 (-42.0949, 35.4209) -> (-39.7261, 35.147) centre (-40.7261, 36.8791) ccw
  arc A43 (-20.4641, 46.2679) -> (-21.4641, 50) centre (-21.4641, 48) ccw
  arc A44 (-10, 44.2265) -> (-13, 45.9585) centre (-12, 44.2265) ccw
  arc A45 (-13, 9.0415) -> (-10, 10.7735) centre (-12, 10.7735) ccw
  arc A46 (-38.5794, 25.2759) -> (-37.6018, 23.2453) centre (-36.6018, 24.9774) ccw
  arc A47 (-37.7696, 31.6578) -> (-38.7225, 29.4939) centre (-36.7696, 29.9257) ccw
  point P0 (-230, 50)
  point P1 (-268.4206, 6.6853)
  point P2 (-144.2671, 29.9002)
  point P3 (-144.8662, 20.8269)
  point P4 (-117.4531, 5)
  point P5 (-144.1713, 25.1041)
  point P6 (-113.35, 7.3094)
  point P7 (-145.1006, 34.0377)
  point P8 (-90.35, 5)
  point P9 (-193.0848, 35.6152)
  point P10 (-218, 50)
  point P11 (-194.1729, 31.6246)
  point P12 (-222, 47.6906)
  point P13 (-194.3255, 23.2873)
  point P14 (-193.3713, 19.2194)
  point P15 (-218, 5)
  point P16 (-179.7693, 50)
  point P17 (-158.9307, 50)
  point P18 (-156.958, 5)
  point P19 (-60.9549, 30.6597)
  point P20 (-59.0487, 34.178)
  point P21 (-59.564, 20.5245)
  point P22 (-61.2045, 24.1961)
  point P23 (-40.5653, 20.3375)
  point P24 (-14, 5)
  point P25 (-38.8549, 23.9688)
  point P26 (-10, 7.3094)
  point P27 (-41.0957, 34.3563)
  point P28 (-14, 50)
  point P29 (-39.1205, 30.8779)
  point P30 (-10, 47.6906)
  point P31 (-90.35, 47.631)
  point P32 (-90.35, 7.369)
  dimension "d83" = 4
  dimension "d91" = 8
  dimension "d95" = 4
  dimension "d97" = 4
  dimension "d98" = 2
  dimension "d99" = 2
  dimension "d101" = 4
  dimension "d107" = 2
  dimension "d117" = 4
extrude "돌출7" cut sketch "스케치9" against normal blind 3 contours L30 A2 L36 L35 A16 A11 A17 L38 L37 A3 L29 | L13 A8 L19 L18 A25 A14 A24 L15 L14 A7 L12 | L17 A9 L43 A27 A15 A26 L16 | L20 A23 A13 A22 L41 A6 L21 | L22 A32 L46 L45 A33 A28 A34 L51 L52 A35 L23 | L34 A5 L42 A21 A12 A20 L33 | L39 A18 A10 A19 L44 A4 L40 | L48 A40 L64 A43 L58 L57 A42 A31 A41 L47 | L49 A36 A29 A37 L53 L54 A38 L61 A39 L50 | L55 A46 A30 A47 L59 L60 A44 L63 L62 A45 L56
extrude "돌출8" cut sketch "스케치8" against normal blind 5 contours L14 A4 L16 A5 L12 L11 A2 L15 A3
sketch "스케치10" plane through (5, 0, 0) normal (1, 0, 0) x (0, 0, -1)
  line L0 (-230, 34.1025) -> (-250, 17.3205) projected
  line L1 (-230, 34.1025) -> (-230, 0)
  line L2 (-280, 0) -> (0, 0) projected
  line L3 (-230, 0) -> (-250, 0)
  line L4 (-250, 0) -> (-250, 5)
  line L5 (-249, 5) -> (-240.5, 5)
  line L6 (-239.5, 6) -> (-239.5, 9.5)
  line L7 (-240.5, 10.5) -> (-249, 10.5)
  line L8 (-250, 9.5) -> (-250, 6)
  arc A0 (-239.5, 9.5) -> (-240.5, 10.5) centre (-240.5, 9.5) ccw
  arc A1 (-240.5, 5) -> (-239.5, 6) centre (-240.5, 6) ccw
  arc A2 (-250, 6) -> (-249, 5) centre (-249, 6) ccw
  arc A3 (-249, 10.5) -> (-250, 9.5) centre (-249, 9.5) ccw
  point P0 (-239.5, 10.5)
  point P1 (-239.5, 5)
  point P2 (-250, 10.5)
  dimension "d125" = 20
  dimension "d126" = 5
  dimension "d127" = 10.5
  dimension "d128" = 5.5
  dimension "d129" = 1
extrude "돌출9" cut sketch "스케치10" against normal blind 10
properties part number "옆판_오른쪽" material "알루미늄 6061"
